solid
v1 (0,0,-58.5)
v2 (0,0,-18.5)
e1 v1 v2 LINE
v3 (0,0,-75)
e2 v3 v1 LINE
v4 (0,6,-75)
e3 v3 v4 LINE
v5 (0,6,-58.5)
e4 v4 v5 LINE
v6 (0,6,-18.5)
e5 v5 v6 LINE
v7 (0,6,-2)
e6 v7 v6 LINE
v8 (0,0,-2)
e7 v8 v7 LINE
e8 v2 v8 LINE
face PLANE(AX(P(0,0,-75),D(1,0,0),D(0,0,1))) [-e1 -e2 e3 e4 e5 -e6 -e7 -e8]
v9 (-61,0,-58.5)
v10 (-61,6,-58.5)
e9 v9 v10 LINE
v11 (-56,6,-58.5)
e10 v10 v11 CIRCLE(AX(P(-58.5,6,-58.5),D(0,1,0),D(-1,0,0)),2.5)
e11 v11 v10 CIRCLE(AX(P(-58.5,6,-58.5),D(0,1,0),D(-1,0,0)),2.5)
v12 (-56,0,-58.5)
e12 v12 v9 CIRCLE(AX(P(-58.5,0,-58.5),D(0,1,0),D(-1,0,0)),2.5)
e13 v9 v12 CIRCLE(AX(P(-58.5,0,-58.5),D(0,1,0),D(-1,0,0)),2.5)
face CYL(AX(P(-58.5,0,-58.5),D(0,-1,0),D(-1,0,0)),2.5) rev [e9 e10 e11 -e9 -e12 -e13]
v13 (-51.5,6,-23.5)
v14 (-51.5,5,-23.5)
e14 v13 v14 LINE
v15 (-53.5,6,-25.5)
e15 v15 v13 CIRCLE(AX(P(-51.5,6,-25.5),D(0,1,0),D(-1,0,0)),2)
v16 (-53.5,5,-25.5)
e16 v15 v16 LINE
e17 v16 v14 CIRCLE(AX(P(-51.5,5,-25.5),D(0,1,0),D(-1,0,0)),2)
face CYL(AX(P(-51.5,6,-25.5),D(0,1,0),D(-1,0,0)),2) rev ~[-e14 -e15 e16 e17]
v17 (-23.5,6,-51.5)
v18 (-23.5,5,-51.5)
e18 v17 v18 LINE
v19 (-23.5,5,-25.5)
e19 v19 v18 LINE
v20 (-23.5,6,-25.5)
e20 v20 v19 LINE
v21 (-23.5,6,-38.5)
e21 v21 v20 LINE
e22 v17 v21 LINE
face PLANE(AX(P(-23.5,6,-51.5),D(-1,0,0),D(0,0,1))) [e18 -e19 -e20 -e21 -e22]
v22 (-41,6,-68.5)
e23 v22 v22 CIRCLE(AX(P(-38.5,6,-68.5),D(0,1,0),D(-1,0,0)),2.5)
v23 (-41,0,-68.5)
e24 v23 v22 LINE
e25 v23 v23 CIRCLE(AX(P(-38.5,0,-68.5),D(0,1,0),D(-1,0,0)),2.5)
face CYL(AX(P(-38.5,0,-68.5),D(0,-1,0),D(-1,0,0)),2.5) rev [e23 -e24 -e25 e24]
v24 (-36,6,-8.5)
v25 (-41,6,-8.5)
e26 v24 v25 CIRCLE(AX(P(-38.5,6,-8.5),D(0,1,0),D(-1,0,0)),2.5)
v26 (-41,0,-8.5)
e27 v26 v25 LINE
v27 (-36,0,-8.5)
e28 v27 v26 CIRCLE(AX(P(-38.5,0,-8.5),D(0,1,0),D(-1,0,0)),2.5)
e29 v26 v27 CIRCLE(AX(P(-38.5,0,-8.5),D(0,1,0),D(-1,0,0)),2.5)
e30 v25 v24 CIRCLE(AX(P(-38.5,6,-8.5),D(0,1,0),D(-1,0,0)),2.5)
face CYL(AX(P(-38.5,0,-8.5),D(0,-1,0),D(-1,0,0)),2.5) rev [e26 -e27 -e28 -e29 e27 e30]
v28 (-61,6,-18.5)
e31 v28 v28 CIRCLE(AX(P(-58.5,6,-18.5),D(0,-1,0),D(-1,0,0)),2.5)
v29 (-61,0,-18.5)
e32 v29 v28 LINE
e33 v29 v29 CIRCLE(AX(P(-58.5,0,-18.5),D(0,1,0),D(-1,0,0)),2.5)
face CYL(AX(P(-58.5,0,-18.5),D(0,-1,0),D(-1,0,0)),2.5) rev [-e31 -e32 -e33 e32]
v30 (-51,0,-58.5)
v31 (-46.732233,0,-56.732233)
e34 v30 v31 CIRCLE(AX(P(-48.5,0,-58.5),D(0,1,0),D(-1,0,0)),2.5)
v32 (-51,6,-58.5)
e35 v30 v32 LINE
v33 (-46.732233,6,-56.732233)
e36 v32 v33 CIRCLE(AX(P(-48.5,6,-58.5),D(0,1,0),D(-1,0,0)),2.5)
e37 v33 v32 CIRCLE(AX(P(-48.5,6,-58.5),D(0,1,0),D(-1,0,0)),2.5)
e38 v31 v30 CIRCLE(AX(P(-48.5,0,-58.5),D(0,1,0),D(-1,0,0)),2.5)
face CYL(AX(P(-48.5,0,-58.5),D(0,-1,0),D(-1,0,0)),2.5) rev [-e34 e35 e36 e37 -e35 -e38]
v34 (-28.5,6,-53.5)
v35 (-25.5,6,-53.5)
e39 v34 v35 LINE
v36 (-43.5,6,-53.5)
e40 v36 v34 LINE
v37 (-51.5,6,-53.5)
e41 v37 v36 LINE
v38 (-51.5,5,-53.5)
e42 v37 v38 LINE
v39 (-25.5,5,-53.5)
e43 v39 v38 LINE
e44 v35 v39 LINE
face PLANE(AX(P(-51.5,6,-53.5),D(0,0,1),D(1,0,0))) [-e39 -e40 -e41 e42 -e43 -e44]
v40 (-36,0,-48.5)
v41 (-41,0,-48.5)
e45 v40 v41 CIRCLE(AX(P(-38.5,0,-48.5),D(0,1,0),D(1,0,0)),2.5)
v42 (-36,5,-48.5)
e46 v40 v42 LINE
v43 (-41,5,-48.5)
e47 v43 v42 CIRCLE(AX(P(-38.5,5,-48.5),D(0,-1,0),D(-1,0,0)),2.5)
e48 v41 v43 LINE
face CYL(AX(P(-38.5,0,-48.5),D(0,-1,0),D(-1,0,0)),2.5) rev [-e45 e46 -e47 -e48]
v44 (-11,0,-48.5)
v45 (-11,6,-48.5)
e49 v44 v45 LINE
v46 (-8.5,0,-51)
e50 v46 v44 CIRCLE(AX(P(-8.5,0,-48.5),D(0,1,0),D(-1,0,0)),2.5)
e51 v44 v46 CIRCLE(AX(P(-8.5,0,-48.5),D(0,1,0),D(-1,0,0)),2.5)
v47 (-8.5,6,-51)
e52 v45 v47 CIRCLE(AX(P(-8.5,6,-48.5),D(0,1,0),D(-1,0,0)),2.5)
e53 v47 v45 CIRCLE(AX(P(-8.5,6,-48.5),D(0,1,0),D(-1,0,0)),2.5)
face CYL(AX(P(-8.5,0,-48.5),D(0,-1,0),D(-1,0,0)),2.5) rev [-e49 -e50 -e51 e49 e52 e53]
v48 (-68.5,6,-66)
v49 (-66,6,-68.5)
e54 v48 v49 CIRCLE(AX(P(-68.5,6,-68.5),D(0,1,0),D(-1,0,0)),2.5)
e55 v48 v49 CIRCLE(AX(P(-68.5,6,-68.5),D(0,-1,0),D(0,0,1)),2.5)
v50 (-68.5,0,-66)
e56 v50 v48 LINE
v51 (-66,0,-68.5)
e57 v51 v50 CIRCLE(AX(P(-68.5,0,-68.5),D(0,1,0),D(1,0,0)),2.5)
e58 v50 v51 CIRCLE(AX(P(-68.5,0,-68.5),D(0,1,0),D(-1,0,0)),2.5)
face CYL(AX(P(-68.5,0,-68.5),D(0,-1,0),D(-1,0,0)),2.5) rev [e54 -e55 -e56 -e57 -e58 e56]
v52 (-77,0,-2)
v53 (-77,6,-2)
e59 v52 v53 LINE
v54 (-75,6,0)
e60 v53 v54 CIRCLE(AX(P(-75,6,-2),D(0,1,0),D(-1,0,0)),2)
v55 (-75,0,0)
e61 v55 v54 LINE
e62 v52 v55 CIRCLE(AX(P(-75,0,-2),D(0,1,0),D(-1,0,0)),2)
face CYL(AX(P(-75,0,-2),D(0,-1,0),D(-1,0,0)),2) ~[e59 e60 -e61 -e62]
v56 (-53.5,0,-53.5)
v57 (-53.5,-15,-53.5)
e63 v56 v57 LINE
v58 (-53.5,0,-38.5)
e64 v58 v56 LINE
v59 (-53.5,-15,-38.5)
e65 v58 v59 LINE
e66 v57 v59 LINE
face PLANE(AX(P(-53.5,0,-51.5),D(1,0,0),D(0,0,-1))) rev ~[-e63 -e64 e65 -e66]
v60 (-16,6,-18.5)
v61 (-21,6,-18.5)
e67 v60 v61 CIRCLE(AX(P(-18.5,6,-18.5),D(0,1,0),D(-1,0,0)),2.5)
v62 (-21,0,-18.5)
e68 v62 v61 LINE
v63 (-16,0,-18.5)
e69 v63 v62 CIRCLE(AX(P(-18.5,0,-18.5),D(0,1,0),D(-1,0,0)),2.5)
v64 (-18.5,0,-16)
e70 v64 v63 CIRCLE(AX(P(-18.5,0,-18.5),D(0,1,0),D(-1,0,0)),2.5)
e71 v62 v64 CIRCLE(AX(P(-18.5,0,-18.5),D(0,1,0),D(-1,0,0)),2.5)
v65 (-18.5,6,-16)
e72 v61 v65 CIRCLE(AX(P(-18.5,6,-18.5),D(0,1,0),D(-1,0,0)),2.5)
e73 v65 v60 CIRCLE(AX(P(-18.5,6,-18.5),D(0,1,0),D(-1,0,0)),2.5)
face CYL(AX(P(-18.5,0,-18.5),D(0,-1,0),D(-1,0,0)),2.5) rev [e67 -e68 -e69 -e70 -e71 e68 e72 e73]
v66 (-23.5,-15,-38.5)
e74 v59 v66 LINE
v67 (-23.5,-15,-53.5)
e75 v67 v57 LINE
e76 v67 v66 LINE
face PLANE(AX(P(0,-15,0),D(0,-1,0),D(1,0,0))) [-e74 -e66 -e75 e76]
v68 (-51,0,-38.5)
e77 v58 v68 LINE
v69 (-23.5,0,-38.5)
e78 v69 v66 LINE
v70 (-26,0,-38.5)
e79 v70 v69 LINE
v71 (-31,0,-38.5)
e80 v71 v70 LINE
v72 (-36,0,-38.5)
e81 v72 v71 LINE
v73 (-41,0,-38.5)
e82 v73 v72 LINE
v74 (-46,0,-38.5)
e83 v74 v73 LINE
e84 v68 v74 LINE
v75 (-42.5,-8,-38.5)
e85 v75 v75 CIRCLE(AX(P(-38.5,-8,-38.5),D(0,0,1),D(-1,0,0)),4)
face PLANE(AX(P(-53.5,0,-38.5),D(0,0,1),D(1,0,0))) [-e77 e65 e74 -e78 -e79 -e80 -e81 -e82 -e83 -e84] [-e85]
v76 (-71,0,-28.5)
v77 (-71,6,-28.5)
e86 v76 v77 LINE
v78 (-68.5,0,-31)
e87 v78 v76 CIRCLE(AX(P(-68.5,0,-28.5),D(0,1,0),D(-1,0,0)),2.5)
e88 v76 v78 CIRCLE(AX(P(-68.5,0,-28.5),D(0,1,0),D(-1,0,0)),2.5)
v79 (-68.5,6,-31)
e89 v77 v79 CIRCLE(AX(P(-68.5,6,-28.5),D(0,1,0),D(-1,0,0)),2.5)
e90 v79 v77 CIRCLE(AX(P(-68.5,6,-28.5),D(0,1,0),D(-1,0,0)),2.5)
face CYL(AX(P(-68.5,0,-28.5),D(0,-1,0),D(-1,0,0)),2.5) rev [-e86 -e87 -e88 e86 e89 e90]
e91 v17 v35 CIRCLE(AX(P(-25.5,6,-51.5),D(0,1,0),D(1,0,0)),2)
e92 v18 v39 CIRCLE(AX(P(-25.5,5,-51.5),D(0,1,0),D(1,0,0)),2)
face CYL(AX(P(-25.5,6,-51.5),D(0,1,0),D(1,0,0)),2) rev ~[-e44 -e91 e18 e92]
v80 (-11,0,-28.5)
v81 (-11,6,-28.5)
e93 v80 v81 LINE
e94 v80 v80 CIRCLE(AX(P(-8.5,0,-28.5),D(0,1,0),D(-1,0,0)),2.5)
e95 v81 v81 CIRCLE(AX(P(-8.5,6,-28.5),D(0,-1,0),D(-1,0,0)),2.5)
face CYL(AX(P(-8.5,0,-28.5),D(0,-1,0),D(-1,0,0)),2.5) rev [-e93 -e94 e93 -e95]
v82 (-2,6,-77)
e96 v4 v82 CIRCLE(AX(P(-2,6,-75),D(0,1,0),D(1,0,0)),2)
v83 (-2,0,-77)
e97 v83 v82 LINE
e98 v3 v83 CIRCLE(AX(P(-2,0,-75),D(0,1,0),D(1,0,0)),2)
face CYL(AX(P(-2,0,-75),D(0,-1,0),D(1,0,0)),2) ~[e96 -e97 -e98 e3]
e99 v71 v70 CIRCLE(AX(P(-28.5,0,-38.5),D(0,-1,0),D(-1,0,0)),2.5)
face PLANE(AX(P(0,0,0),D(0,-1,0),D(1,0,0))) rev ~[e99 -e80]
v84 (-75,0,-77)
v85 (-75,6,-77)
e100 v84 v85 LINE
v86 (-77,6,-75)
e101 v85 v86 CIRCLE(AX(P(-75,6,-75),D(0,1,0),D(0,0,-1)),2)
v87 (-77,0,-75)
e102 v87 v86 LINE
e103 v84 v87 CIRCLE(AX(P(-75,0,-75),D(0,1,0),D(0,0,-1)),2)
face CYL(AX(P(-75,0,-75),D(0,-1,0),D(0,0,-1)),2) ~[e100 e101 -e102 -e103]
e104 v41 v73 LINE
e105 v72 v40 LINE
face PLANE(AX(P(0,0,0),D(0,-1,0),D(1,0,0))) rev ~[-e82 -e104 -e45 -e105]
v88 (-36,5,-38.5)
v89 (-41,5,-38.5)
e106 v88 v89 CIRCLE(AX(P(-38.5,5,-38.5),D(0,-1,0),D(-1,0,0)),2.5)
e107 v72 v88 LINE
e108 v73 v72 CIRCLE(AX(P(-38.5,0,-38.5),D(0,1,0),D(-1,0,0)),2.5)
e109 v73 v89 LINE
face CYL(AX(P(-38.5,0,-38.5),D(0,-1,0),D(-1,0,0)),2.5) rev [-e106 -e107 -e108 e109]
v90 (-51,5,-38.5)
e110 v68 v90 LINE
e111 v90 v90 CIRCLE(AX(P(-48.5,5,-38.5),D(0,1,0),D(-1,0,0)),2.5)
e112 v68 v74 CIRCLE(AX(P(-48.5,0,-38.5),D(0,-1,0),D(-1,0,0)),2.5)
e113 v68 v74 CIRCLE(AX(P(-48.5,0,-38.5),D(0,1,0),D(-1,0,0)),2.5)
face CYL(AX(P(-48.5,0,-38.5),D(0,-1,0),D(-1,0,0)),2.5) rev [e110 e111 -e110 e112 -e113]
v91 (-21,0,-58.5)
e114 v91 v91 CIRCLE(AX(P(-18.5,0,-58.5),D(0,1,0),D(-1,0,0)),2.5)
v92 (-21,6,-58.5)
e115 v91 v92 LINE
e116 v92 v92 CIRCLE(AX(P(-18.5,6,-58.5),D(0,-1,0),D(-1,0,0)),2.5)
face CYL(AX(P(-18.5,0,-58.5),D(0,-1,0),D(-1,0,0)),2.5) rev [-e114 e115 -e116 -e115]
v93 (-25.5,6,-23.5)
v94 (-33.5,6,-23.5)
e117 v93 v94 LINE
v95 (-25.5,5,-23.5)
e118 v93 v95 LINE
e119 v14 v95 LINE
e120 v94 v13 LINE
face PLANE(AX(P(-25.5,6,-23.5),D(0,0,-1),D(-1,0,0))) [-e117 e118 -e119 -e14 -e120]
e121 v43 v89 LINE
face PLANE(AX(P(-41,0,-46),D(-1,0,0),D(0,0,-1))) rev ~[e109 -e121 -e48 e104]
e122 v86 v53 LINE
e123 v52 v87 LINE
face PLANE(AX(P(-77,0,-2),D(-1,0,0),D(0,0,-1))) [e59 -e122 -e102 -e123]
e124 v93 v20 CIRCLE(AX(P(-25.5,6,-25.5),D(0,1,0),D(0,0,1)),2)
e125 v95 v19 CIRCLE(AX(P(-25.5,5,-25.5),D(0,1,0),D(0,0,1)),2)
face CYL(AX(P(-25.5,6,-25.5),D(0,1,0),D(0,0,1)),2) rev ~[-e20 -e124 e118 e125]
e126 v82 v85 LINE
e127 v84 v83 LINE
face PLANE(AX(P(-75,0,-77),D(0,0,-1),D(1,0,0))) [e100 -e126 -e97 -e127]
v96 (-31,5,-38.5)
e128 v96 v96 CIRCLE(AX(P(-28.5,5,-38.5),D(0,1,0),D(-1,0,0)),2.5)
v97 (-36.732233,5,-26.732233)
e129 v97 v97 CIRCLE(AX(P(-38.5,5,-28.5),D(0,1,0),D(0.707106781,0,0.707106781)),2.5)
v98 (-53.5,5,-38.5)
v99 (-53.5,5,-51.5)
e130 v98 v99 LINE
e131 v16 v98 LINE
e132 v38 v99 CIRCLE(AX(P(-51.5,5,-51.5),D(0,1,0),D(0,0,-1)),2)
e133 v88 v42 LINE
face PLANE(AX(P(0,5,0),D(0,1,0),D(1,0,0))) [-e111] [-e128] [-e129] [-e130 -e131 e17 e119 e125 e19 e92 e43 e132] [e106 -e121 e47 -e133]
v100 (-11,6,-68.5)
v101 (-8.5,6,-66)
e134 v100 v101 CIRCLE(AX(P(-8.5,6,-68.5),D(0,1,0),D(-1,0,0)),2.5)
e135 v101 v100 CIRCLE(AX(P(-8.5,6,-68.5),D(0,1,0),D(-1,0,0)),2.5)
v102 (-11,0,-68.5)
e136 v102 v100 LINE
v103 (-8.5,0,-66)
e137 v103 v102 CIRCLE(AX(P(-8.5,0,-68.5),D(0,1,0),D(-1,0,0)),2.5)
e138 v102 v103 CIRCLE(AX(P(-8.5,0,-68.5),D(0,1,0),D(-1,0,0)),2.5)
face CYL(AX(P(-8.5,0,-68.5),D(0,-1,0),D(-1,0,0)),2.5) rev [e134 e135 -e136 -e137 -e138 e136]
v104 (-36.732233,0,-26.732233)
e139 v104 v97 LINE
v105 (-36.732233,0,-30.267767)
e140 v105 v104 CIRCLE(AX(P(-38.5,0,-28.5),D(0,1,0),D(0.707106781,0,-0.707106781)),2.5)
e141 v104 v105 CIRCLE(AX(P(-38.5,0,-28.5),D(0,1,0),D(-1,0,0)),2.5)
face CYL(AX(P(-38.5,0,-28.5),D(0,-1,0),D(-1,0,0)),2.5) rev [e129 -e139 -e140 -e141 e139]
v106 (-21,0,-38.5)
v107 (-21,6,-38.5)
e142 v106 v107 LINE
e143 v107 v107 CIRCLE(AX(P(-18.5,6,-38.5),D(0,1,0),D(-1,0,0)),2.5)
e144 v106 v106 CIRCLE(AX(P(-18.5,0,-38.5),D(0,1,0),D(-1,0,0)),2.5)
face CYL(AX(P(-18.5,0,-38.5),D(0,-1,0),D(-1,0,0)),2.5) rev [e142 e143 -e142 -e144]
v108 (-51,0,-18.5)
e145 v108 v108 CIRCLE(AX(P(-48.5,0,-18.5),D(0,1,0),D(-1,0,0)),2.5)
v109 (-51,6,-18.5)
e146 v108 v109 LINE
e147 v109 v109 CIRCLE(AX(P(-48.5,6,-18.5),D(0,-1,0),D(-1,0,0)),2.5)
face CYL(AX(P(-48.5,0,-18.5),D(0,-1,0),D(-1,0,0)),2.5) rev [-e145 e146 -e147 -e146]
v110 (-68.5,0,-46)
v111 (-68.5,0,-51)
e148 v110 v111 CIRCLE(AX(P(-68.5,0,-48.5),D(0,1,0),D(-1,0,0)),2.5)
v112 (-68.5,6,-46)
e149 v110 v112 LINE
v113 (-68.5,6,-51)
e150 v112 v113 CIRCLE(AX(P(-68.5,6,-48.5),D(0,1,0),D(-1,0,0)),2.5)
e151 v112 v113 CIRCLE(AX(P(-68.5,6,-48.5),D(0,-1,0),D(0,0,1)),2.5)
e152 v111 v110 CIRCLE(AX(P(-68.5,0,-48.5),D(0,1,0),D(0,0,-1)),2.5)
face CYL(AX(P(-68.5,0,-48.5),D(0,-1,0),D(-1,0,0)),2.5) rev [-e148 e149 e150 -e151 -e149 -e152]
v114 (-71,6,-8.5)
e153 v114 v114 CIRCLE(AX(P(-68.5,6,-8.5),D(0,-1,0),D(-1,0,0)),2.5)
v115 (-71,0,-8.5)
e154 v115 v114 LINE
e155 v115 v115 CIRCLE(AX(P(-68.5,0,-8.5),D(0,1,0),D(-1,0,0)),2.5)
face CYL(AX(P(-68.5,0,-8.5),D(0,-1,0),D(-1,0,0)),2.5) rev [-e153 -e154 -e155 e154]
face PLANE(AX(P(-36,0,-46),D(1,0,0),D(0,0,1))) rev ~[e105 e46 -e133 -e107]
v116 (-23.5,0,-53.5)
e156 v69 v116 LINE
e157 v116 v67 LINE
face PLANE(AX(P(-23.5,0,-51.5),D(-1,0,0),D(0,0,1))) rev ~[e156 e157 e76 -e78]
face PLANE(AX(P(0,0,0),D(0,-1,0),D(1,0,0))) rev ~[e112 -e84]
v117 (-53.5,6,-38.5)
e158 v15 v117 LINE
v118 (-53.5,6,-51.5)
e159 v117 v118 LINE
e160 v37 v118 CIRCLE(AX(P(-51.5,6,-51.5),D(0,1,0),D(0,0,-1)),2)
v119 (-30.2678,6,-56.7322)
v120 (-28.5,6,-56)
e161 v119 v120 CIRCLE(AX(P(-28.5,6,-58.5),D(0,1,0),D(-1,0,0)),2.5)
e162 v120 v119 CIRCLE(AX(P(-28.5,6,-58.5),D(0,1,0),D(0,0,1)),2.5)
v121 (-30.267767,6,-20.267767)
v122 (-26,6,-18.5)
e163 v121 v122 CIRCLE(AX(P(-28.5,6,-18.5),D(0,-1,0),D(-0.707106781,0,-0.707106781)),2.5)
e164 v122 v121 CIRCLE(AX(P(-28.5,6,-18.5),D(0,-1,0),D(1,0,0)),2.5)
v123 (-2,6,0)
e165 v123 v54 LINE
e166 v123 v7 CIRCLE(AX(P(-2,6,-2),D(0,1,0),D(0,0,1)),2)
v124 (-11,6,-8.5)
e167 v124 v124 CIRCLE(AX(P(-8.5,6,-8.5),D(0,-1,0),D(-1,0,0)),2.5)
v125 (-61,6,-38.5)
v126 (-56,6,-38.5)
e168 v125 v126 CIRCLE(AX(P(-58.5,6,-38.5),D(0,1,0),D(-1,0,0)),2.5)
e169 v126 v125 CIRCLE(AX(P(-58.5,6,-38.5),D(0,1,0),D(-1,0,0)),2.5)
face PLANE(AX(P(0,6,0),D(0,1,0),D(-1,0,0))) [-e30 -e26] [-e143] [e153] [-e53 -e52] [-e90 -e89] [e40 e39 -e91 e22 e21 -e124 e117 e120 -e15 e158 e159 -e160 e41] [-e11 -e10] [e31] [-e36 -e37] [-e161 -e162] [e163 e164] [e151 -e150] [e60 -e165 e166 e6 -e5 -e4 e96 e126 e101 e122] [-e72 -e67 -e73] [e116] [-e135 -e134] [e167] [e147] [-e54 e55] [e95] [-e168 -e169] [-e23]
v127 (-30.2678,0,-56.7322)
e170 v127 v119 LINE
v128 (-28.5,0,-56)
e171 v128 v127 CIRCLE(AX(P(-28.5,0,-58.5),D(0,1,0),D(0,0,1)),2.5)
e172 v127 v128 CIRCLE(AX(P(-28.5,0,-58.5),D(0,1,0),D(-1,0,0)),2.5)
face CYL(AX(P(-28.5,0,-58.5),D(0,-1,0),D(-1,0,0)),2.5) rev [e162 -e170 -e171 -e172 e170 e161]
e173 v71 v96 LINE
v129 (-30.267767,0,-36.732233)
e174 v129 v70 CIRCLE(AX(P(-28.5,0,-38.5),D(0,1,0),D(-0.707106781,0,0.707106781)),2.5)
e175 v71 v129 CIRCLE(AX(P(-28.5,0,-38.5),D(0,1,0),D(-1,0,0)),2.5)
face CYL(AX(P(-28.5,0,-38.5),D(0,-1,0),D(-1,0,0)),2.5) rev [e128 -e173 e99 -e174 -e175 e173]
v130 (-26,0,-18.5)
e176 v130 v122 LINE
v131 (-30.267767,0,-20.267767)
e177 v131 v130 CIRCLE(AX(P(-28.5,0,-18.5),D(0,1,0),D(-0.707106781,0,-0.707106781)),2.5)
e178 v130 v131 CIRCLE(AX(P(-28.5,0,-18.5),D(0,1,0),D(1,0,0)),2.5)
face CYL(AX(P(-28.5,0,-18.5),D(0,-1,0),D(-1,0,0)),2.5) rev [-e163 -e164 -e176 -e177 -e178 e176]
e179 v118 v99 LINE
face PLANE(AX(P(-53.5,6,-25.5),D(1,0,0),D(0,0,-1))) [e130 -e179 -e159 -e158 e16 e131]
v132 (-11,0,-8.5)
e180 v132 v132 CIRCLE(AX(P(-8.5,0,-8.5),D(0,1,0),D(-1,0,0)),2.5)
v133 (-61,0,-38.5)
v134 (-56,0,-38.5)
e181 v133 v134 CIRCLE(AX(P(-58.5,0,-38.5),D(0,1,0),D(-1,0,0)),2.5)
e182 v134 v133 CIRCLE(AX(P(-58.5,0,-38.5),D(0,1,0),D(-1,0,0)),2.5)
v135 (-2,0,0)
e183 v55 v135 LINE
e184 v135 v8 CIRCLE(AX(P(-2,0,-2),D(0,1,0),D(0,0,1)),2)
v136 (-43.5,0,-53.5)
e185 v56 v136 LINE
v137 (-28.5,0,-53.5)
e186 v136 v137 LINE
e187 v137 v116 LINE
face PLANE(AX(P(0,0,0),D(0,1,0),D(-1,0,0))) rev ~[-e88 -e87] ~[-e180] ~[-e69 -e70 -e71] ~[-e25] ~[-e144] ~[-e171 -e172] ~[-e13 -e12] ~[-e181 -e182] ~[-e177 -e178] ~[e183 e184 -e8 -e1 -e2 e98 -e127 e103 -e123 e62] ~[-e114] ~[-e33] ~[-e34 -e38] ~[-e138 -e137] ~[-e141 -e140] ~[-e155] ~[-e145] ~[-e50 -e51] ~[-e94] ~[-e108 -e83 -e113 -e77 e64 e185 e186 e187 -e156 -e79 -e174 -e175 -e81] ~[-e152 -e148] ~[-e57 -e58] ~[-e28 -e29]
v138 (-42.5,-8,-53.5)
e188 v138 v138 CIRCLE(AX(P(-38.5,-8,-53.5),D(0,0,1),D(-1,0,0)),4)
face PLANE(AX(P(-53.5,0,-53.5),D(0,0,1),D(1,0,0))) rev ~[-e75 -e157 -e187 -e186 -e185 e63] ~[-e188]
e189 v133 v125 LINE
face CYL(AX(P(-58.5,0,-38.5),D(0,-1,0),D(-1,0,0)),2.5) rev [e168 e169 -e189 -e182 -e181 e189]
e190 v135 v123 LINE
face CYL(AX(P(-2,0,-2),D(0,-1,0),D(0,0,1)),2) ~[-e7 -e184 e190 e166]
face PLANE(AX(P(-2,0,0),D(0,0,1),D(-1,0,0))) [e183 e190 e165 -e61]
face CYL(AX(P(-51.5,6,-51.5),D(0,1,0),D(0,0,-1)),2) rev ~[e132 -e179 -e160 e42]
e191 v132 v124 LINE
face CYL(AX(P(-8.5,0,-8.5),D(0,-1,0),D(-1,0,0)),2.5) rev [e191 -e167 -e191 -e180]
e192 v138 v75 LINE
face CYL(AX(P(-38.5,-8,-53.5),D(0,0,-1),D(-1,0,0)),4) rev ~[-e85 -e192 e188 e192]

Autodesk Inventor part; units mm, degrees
ref_plane "YZ Plane" through (0, 0, 0) normal (1, 0, 0) x (0, 1, 0)
ref_plane "XZ Plane" through (0, 0, 0) normal (0, 1, 0) x (-1, 0, 0)
ref_plane "XY Plane" through (0, 0, 0) normal (0, 0, 1) x (1, 0, 0)
sketch "Sketch1" plane through (0, 0, 0) normal (0, 1, 0) x (-1, 0, 0)
  line L0 (0, 0) -> (75, 0)
  line L1 (77, -2) -> (77, -75)
  line L2 (75, -77) -> (2, -77)
  line L3 (0, -75) -> (0, 0)
  line L4 (0, 0) -> (0, -8.5)
  line L5 (6, -8.5) -> (8.5, -8.5)
  line L6 (8.5, -48.5) -> (8.5, -68.5)
  circle A0 centre (8.5, -8.5) radius 2.5
  circle A1 centre (8.5, -28.5) radius 2.5
  circle A2 centre (8.5, -48.5) radius 2.5
  circle A3 centre (8.5, -68.5) radius 2.5
  line L7 (68.5, -28.5) -> (68.5, -48.5)
  line L8 (68.5, -48.5) -> (68.5, -68.5)
  line L9 (68.5, -68.5) -> (38.5, -68.5)
  circle A4 centre (38.5, -8.5) radius 2.5
  circle A5 centre (68.5, -8.5) radius 2.5
  circle A6 centre (68.5, -28.5) radius 2.5
  circle A7 centre (68.5, -48.5) radius 2.5
  circle A8 centre (68.5, -68.5) radius 2.5
  circle A9 centre (38.5, -68.5) radius 2.5
  line L10 (77, 0) -> (58.5, 0)
  line L11 (58.5, -18.5) -> (61, -18.5)
  line L12 (77, -18.5) -> (77, 0)
  line L13 (2, 0) -> (18.5, 0)
  line L14 (18.5, -8.5) -> (18.5, -18.5)
  line L15 (18.5, -18.5) -> (0, -18.5)
  line L16 (0, -18.5) -> (0, -2)
  line L17 (0, -77) -> (18.5, -77)
  line L18 (18.5, -61) -> (18.5, -58.5)
  line L19 (0, -58.5) -> (0, -77)
  circle A10 centre (58.5, -18.5) radius 2.5
  circle A11 centre (18.5, -18.5) radius 2.5
  circle A12 centre (18.5, -58.5) radius 2.5
  circle A13 centre (58.5, -58.5) radius 2.5
  line L20 (18.5, -18.5) -> (28.5, -18.5)
  line L21 (58.5, -58.5) -> (48.5, -58.5)
  circle A14 centre (28.5, -18.5) radius 2.5
  circle A15 centre (48.5, -18.5) radius 2.5
  circle A16 centre (48.5, -58.5) radius 2.5
  circle A17 centre (28.5, -58.5) radius 2.5
  line L22 (58.5, -38.5) -> (48.5, -38.5)
  line L23 (28.5, -38.5) -> (18.5, -38.5)
  circle A18 centre (58.5, -38.5) radius 2.5
  circle A19 centre (48.5, -38.5) radius 2.5
  circle A20 centre (28.5, -38.5) radius 2.5
  circle A21 centre (18.5, -38.5) radius 2.5
  circle A22 centre (38.5, -28.5) radius 2.5
  circle A23 centre (38.5, -38.5) radius 2.5
  line L24 (28.5, -58.5) -> (28.5, -38.5)
  circle A24 centre (38.5, -48.5) radius 2.5
  line L25 (36, -48.5) -> (36, -38.5)
  line L26 (41, -38.5) -> (41, -48.5)
  arc A25 (77, -2) -> (75, 0) centre (75, -2) ccw
  arc A26 (75, -77) -> (77, -75) centre (75, -75) ccw
  arc A27 (0, -75) -> (2, -77) centre (2, -75) ccw
  arc A28 (2, 0) -> (0, -2) centre (2, -2) ccw
  line L27 (68.5, -8.5) -> (68.5, -11)
  line L28 (68.5, -26) -> (68.5, -28.5)
  line L29 (58.5, 0) -> (58.5, -8.5)
  line L30 (58.5, -16) -> (58.5, -18.5)
  line L31 (38.5, -8.5) -> (41, -8.5)
  line L32 (66, -8.5) -> (68.5, -8.5)
  line L33 (58.5, -18.5) -> (58.5, -21)
  line L34 (58.5, -36) -> (58.5, -38.5)
  line L35 (58.5, -18.5) -> (56, -18.5)
  line L36 (51, -18.5) -> (48.5, -18.5)
  line L37 (48.5, -18.5) -> (46.7322, -20.2678)
  line L38 (40.2678, -26.7322) -> (28.5, -38.5)
  line L39 (28.5, -18.5) -> (40.2678, -30.2678)
  line L40 (46.7322, -36.7322) -> (48.5, -38.5)
  line L41 (48.5, -38.5) -> (46, -38.5)
  line L42 (41, -38.5) -> (28.5, -38.5)
  line L43 (48.5, -38.5) -> (46.7322, -40.2678)
  line L44 (41, -46) -> (36.7322, -50.2678)
  line L45 (30.2678, -56.7322) -> (28.5, -58.5)
  line L46 (48.5, -58.5) -> (36, -46)
  line L47 (30.2678, -40.2678) -> (28.5, -38.5)
  line L48 (18.5, -58.5) -> (21, -58.5)
  line L49 (26, -58.5) -> (28.5, -58.5)
  line L50 (18.5, -58.5) -> (16, -58.5)
  line L51 (8.5, -58.5) -> (0, -58.5)
  line L52 (8.5, -28.5) -> (8.5, -31)
  line L53 (8.5, -46) -> (8.5, -48.5)
  line L54 (8.5, -8.5) -> (8.5, -11)
  line L55 (8.5, -26) -> (8.5, -28.5)
  line L56 (8.5, -8.5) -> (11, -8.5)
  line L57 (18.5, -8.5) -> (38.5, -8.5)
  line L58 (28.5, -38.5) -> (28.5, -36)
  line L59 (28.5, -21) -> (28.5, -18.5)
  point P0 (77, -77)
  dimension "d9" = 5
  dimension "d15" = 5
  dimension "d17" = 5
  dimension "d29" = 5
  dimension "d32" = 5
  dimension "d0" = 77
  dimension "d1" = 77
  dimension "d2" = 8.5
  dimension "d3" = 8.5
  dimension "d4" = 20
  dimension "d5" = 20
  dimension "d6" = 20
  dimension "d7" = 5
  dimension "d8" = 5
  dimension "d10" = 5
  dimension "d11" = 30
  dimension "d12" = 30
  dimension "d13" = 20
  dimension "d14" = 20
  dimension "d16" = 5
  dimension "d18" = 18.5
  dimension "d19" = 18.5
  dimension "d20" = 18.5
  dimension "d21" = 18.5
  dimension "d22" = 18.5
  dimension "d23" = 18.5
  dimension "d24" = 5
  dimension "d25" = 5
  dimension "d26" = 10
  dimension "d27" = 10
  dimension "d28" = 10
  dimension "d30" = 5
  dimension "d31" = 20
  dimension "d33" = 5
  dimension "d34" = 5
  dimension "d35" = 2
  dimension "d36" = 2
extrude "Extrusion1" add sketch "Sketch1" along normal blind 6 contours L0 A25 L1 A26 L2 A27 L3 A28
sketch "Sketch2" plane through (0, 6, 0) normal (0, 1, 0) x (1, 0, 0)
  line L0 (0, 0) -> (-23.5, 0)
  line L1 (-23.5, 0) -> (-23.5, 23.5)
  line L2 (-23.5, 23.5) -> (0, 23.5)
  line L3 (0, 23.5) -> (0, 0)
  line L4 (-77, 75) -> (-77, 2) projected
  line L5 (-77, 67.2397) -> (-77, 80.0778)
  line L6 (-2, 77) -> (-75, 77) projected
  line L7 (-67.8517, 77) -> (-77, 77)
  line L8 (-77, 77) -> (-53.5, 77)
  line L9 (-53.5, 77) -> (-53.5, 53.5)
  line L10 (-53.5, 53.5) -> (-77, 53.5)
  line L11 (-77, 53.5) -> (-77, 77)
  line L12 (-51.5, 53.5) -> (-25.5, 53.5)
  line L13 (-23.5, 51.5) -> (-23.5, 25.5)
  line L14 (-25.5, 23.5) -> (-51.5, 23.5)
  line L15 (-53.5, 25.5) -> (-53.5, 51.5)
  arc A0 (-53.5, 25.5) -> (-51.5, 23.5) centre (-51.5, 25.5) ccw
  arc A1 (-25.5, 23.5) -> (-23.5, 25.5) centre (-25.5, 25.5) ccw
  arc A2 (-23.5, 51.5) -> (-25.5, 53.5) centre (-25.5, 51.5) ccw
  arc A3 (-51.5, 53.5) -> (-53.5, 51.5) centre (-51.5, 51.5) ccw
  dimension "d39" = 23.5
  dimension "d40" = 23.5
  dimension "d41" = 23.5
  dimension "d42" = 23.5
  dimension "d43" = 2
extrude "Extrusion2" cut sketch "Sketch2" against normal blind 1 contours L12 A2 L13 A1 L14 A0 L15 A3
sketch "Sketch3" plane through (0, 0, 0) normal (0, -1, 0) x (1, 0, 0)
  line L0 (-51.5, -53.5) -> (-25.5, -53.5) projected
  line L1 (-53.5, -25.5) -> (-53.5, -51.5) projected
  line L2 (-25.5, -23.5) -> (-51.5, -23.5) projected
  line L3 (-23.5, -51.5) -> (-23.5, -25.5) projected
  line L4 (-53.5, -53.5) -> (-23.5, -53.5)
  line L5 (-23.5, -53.5) -> (-23.5, -38.5)
  line L6 (-53.5, -38.5) -> (-23.5, -38.5)
  line L7 (-53.5, -38.5) -> (-53.5, -53.5)
  point P0 (0, 0)
extrude "Extrusion3" add sketch "Sketch3" along normal blind 15
sketch "Sketch4" plane through (-23.5, 0, -53.5) normal (0, 0, -1) x (-1, 0, 0)
  line L0 (2.5, 0) -> (0, 0) projected
  line L1 (0, 0) -> (0, -15) projected
  line L2 (0, -8) -> (15, -8)
  line L3 (30, 0) -> (30, -15) projected
  circle A0 centre (15, -8) radius 4
  line L4 (0, 0) -> (0, -15) projected
  line L5 (0, -8) -> (0, -15)
  line L6 (30, -15) -> (0, -15) projected
  point P0 (-23.5, 0)
  dimension "d49" = 15
  dimension "d50" = 8
  dimension "d53" = 7
extrude "Extrusion4" cut sketch "Sketch4" against normal blind 22
sketch "Sketch5" plane through (0, 6, 0) normal (0, 1, 0) x (1, 0, 0)
  arc A0 (-25.5, 23.5) -> (-23.5, 25.5) centre (-25.5, 25.5) ccw projected
  line L0 (-25.5, 23.5) -> (-51.5, 23.5) projected
  arc A1 (-53.5, 25.5) -> (-51.5, 23.5) centre (-51.5, 25.5) ccw projected
  line L1 (-53.5, 25.5) -> (-53.5, 51.5) projected
  arc A2 (-51.5, 53.5) -> (-53.5, 51.5) centre (-51.5, 51.5) ccw projected
  line L2 (-51.5, 53.5) -> (-25.5, 53.5) projected
  arc A3 (-23.5, 51.5) -> (-25.5, 53.5) centre (-25.5, 51.5) ccw projected
  line L3 (-23.5, 51.5) -> (-23.5, 25.5) projected
  arc A4 (0, 75) -> (-2, 77) centre (-2, 75) ccw projected
  line L4 (-2, 77) -> (-75, 77) projected
  arc A5 (-75, 77) -> (-77, 75) centre (-75, 75) ccw projected
  line L5 (-77, 75) -> (-77, 2) projected
  arc A6 (-77, 2) -> (-75, 0) centre (-75, 2) ccw projected
  line L6 (-75, 0) -> (-2, 0) projected
  arc A7 (-2, 0) -> (0, 2) centre (-2, 2) ccw projected
  line L7 (0, 2) -> (0, 75) projected
  circle A8 centre (-58.5, 38.5) radius 2.5 projected
  circle A9 centre (-68.5, 28.5) radius 2.5 projected
  circle A10 centre (-68.5, 48.5) radius 2.5 projected
  circle A11 centre (-68.5, 68.5) radius 2.5 projected
  circle A12 centre (-8.5, 48.5) radius 2.5 projected
  circle A13 centre (-8.5, 68.5) radius 2.5 projected
  circle A14 centre (-18.5, 38.5) radius 2.5 projected
  circle A15 centre (-28.5, 58.5) radius 2.5 projected
  circle A16 centre (-58.5, 58.5) radius 2.5 projected
  circle A17 centre (-48.5, 58.5) radius 2.5 projected
  circle A18 centre (-28.5, 18.5) radius 2.5 projected
  circle A19 centre (-38.5, 8.5) radius 2.5 projected
  circle A20 centre (-18.5, 18.5) radius 2.5 projected
  circle A21 centre (-18.5, 58.5) radius 2.5 projected
  circle A22 centre (-58.5, 18.5) radius 2.5 projected
  circle A23 centre (-8.5, 28.5) radius 2.5 projected
  circle A24 centre (-8.5, 8.5) radius 2.5 projected
  circle A25 centre (-68.5, 8.5) radius 2.5 projected
  circle A26 centre (-38.5, 68.5) radius 2.5 projected
  circle A27 centre (-48.5, 18.5) radius 2.5 projected
  point P0 (0, 0)
properties part number "piezamovil"
